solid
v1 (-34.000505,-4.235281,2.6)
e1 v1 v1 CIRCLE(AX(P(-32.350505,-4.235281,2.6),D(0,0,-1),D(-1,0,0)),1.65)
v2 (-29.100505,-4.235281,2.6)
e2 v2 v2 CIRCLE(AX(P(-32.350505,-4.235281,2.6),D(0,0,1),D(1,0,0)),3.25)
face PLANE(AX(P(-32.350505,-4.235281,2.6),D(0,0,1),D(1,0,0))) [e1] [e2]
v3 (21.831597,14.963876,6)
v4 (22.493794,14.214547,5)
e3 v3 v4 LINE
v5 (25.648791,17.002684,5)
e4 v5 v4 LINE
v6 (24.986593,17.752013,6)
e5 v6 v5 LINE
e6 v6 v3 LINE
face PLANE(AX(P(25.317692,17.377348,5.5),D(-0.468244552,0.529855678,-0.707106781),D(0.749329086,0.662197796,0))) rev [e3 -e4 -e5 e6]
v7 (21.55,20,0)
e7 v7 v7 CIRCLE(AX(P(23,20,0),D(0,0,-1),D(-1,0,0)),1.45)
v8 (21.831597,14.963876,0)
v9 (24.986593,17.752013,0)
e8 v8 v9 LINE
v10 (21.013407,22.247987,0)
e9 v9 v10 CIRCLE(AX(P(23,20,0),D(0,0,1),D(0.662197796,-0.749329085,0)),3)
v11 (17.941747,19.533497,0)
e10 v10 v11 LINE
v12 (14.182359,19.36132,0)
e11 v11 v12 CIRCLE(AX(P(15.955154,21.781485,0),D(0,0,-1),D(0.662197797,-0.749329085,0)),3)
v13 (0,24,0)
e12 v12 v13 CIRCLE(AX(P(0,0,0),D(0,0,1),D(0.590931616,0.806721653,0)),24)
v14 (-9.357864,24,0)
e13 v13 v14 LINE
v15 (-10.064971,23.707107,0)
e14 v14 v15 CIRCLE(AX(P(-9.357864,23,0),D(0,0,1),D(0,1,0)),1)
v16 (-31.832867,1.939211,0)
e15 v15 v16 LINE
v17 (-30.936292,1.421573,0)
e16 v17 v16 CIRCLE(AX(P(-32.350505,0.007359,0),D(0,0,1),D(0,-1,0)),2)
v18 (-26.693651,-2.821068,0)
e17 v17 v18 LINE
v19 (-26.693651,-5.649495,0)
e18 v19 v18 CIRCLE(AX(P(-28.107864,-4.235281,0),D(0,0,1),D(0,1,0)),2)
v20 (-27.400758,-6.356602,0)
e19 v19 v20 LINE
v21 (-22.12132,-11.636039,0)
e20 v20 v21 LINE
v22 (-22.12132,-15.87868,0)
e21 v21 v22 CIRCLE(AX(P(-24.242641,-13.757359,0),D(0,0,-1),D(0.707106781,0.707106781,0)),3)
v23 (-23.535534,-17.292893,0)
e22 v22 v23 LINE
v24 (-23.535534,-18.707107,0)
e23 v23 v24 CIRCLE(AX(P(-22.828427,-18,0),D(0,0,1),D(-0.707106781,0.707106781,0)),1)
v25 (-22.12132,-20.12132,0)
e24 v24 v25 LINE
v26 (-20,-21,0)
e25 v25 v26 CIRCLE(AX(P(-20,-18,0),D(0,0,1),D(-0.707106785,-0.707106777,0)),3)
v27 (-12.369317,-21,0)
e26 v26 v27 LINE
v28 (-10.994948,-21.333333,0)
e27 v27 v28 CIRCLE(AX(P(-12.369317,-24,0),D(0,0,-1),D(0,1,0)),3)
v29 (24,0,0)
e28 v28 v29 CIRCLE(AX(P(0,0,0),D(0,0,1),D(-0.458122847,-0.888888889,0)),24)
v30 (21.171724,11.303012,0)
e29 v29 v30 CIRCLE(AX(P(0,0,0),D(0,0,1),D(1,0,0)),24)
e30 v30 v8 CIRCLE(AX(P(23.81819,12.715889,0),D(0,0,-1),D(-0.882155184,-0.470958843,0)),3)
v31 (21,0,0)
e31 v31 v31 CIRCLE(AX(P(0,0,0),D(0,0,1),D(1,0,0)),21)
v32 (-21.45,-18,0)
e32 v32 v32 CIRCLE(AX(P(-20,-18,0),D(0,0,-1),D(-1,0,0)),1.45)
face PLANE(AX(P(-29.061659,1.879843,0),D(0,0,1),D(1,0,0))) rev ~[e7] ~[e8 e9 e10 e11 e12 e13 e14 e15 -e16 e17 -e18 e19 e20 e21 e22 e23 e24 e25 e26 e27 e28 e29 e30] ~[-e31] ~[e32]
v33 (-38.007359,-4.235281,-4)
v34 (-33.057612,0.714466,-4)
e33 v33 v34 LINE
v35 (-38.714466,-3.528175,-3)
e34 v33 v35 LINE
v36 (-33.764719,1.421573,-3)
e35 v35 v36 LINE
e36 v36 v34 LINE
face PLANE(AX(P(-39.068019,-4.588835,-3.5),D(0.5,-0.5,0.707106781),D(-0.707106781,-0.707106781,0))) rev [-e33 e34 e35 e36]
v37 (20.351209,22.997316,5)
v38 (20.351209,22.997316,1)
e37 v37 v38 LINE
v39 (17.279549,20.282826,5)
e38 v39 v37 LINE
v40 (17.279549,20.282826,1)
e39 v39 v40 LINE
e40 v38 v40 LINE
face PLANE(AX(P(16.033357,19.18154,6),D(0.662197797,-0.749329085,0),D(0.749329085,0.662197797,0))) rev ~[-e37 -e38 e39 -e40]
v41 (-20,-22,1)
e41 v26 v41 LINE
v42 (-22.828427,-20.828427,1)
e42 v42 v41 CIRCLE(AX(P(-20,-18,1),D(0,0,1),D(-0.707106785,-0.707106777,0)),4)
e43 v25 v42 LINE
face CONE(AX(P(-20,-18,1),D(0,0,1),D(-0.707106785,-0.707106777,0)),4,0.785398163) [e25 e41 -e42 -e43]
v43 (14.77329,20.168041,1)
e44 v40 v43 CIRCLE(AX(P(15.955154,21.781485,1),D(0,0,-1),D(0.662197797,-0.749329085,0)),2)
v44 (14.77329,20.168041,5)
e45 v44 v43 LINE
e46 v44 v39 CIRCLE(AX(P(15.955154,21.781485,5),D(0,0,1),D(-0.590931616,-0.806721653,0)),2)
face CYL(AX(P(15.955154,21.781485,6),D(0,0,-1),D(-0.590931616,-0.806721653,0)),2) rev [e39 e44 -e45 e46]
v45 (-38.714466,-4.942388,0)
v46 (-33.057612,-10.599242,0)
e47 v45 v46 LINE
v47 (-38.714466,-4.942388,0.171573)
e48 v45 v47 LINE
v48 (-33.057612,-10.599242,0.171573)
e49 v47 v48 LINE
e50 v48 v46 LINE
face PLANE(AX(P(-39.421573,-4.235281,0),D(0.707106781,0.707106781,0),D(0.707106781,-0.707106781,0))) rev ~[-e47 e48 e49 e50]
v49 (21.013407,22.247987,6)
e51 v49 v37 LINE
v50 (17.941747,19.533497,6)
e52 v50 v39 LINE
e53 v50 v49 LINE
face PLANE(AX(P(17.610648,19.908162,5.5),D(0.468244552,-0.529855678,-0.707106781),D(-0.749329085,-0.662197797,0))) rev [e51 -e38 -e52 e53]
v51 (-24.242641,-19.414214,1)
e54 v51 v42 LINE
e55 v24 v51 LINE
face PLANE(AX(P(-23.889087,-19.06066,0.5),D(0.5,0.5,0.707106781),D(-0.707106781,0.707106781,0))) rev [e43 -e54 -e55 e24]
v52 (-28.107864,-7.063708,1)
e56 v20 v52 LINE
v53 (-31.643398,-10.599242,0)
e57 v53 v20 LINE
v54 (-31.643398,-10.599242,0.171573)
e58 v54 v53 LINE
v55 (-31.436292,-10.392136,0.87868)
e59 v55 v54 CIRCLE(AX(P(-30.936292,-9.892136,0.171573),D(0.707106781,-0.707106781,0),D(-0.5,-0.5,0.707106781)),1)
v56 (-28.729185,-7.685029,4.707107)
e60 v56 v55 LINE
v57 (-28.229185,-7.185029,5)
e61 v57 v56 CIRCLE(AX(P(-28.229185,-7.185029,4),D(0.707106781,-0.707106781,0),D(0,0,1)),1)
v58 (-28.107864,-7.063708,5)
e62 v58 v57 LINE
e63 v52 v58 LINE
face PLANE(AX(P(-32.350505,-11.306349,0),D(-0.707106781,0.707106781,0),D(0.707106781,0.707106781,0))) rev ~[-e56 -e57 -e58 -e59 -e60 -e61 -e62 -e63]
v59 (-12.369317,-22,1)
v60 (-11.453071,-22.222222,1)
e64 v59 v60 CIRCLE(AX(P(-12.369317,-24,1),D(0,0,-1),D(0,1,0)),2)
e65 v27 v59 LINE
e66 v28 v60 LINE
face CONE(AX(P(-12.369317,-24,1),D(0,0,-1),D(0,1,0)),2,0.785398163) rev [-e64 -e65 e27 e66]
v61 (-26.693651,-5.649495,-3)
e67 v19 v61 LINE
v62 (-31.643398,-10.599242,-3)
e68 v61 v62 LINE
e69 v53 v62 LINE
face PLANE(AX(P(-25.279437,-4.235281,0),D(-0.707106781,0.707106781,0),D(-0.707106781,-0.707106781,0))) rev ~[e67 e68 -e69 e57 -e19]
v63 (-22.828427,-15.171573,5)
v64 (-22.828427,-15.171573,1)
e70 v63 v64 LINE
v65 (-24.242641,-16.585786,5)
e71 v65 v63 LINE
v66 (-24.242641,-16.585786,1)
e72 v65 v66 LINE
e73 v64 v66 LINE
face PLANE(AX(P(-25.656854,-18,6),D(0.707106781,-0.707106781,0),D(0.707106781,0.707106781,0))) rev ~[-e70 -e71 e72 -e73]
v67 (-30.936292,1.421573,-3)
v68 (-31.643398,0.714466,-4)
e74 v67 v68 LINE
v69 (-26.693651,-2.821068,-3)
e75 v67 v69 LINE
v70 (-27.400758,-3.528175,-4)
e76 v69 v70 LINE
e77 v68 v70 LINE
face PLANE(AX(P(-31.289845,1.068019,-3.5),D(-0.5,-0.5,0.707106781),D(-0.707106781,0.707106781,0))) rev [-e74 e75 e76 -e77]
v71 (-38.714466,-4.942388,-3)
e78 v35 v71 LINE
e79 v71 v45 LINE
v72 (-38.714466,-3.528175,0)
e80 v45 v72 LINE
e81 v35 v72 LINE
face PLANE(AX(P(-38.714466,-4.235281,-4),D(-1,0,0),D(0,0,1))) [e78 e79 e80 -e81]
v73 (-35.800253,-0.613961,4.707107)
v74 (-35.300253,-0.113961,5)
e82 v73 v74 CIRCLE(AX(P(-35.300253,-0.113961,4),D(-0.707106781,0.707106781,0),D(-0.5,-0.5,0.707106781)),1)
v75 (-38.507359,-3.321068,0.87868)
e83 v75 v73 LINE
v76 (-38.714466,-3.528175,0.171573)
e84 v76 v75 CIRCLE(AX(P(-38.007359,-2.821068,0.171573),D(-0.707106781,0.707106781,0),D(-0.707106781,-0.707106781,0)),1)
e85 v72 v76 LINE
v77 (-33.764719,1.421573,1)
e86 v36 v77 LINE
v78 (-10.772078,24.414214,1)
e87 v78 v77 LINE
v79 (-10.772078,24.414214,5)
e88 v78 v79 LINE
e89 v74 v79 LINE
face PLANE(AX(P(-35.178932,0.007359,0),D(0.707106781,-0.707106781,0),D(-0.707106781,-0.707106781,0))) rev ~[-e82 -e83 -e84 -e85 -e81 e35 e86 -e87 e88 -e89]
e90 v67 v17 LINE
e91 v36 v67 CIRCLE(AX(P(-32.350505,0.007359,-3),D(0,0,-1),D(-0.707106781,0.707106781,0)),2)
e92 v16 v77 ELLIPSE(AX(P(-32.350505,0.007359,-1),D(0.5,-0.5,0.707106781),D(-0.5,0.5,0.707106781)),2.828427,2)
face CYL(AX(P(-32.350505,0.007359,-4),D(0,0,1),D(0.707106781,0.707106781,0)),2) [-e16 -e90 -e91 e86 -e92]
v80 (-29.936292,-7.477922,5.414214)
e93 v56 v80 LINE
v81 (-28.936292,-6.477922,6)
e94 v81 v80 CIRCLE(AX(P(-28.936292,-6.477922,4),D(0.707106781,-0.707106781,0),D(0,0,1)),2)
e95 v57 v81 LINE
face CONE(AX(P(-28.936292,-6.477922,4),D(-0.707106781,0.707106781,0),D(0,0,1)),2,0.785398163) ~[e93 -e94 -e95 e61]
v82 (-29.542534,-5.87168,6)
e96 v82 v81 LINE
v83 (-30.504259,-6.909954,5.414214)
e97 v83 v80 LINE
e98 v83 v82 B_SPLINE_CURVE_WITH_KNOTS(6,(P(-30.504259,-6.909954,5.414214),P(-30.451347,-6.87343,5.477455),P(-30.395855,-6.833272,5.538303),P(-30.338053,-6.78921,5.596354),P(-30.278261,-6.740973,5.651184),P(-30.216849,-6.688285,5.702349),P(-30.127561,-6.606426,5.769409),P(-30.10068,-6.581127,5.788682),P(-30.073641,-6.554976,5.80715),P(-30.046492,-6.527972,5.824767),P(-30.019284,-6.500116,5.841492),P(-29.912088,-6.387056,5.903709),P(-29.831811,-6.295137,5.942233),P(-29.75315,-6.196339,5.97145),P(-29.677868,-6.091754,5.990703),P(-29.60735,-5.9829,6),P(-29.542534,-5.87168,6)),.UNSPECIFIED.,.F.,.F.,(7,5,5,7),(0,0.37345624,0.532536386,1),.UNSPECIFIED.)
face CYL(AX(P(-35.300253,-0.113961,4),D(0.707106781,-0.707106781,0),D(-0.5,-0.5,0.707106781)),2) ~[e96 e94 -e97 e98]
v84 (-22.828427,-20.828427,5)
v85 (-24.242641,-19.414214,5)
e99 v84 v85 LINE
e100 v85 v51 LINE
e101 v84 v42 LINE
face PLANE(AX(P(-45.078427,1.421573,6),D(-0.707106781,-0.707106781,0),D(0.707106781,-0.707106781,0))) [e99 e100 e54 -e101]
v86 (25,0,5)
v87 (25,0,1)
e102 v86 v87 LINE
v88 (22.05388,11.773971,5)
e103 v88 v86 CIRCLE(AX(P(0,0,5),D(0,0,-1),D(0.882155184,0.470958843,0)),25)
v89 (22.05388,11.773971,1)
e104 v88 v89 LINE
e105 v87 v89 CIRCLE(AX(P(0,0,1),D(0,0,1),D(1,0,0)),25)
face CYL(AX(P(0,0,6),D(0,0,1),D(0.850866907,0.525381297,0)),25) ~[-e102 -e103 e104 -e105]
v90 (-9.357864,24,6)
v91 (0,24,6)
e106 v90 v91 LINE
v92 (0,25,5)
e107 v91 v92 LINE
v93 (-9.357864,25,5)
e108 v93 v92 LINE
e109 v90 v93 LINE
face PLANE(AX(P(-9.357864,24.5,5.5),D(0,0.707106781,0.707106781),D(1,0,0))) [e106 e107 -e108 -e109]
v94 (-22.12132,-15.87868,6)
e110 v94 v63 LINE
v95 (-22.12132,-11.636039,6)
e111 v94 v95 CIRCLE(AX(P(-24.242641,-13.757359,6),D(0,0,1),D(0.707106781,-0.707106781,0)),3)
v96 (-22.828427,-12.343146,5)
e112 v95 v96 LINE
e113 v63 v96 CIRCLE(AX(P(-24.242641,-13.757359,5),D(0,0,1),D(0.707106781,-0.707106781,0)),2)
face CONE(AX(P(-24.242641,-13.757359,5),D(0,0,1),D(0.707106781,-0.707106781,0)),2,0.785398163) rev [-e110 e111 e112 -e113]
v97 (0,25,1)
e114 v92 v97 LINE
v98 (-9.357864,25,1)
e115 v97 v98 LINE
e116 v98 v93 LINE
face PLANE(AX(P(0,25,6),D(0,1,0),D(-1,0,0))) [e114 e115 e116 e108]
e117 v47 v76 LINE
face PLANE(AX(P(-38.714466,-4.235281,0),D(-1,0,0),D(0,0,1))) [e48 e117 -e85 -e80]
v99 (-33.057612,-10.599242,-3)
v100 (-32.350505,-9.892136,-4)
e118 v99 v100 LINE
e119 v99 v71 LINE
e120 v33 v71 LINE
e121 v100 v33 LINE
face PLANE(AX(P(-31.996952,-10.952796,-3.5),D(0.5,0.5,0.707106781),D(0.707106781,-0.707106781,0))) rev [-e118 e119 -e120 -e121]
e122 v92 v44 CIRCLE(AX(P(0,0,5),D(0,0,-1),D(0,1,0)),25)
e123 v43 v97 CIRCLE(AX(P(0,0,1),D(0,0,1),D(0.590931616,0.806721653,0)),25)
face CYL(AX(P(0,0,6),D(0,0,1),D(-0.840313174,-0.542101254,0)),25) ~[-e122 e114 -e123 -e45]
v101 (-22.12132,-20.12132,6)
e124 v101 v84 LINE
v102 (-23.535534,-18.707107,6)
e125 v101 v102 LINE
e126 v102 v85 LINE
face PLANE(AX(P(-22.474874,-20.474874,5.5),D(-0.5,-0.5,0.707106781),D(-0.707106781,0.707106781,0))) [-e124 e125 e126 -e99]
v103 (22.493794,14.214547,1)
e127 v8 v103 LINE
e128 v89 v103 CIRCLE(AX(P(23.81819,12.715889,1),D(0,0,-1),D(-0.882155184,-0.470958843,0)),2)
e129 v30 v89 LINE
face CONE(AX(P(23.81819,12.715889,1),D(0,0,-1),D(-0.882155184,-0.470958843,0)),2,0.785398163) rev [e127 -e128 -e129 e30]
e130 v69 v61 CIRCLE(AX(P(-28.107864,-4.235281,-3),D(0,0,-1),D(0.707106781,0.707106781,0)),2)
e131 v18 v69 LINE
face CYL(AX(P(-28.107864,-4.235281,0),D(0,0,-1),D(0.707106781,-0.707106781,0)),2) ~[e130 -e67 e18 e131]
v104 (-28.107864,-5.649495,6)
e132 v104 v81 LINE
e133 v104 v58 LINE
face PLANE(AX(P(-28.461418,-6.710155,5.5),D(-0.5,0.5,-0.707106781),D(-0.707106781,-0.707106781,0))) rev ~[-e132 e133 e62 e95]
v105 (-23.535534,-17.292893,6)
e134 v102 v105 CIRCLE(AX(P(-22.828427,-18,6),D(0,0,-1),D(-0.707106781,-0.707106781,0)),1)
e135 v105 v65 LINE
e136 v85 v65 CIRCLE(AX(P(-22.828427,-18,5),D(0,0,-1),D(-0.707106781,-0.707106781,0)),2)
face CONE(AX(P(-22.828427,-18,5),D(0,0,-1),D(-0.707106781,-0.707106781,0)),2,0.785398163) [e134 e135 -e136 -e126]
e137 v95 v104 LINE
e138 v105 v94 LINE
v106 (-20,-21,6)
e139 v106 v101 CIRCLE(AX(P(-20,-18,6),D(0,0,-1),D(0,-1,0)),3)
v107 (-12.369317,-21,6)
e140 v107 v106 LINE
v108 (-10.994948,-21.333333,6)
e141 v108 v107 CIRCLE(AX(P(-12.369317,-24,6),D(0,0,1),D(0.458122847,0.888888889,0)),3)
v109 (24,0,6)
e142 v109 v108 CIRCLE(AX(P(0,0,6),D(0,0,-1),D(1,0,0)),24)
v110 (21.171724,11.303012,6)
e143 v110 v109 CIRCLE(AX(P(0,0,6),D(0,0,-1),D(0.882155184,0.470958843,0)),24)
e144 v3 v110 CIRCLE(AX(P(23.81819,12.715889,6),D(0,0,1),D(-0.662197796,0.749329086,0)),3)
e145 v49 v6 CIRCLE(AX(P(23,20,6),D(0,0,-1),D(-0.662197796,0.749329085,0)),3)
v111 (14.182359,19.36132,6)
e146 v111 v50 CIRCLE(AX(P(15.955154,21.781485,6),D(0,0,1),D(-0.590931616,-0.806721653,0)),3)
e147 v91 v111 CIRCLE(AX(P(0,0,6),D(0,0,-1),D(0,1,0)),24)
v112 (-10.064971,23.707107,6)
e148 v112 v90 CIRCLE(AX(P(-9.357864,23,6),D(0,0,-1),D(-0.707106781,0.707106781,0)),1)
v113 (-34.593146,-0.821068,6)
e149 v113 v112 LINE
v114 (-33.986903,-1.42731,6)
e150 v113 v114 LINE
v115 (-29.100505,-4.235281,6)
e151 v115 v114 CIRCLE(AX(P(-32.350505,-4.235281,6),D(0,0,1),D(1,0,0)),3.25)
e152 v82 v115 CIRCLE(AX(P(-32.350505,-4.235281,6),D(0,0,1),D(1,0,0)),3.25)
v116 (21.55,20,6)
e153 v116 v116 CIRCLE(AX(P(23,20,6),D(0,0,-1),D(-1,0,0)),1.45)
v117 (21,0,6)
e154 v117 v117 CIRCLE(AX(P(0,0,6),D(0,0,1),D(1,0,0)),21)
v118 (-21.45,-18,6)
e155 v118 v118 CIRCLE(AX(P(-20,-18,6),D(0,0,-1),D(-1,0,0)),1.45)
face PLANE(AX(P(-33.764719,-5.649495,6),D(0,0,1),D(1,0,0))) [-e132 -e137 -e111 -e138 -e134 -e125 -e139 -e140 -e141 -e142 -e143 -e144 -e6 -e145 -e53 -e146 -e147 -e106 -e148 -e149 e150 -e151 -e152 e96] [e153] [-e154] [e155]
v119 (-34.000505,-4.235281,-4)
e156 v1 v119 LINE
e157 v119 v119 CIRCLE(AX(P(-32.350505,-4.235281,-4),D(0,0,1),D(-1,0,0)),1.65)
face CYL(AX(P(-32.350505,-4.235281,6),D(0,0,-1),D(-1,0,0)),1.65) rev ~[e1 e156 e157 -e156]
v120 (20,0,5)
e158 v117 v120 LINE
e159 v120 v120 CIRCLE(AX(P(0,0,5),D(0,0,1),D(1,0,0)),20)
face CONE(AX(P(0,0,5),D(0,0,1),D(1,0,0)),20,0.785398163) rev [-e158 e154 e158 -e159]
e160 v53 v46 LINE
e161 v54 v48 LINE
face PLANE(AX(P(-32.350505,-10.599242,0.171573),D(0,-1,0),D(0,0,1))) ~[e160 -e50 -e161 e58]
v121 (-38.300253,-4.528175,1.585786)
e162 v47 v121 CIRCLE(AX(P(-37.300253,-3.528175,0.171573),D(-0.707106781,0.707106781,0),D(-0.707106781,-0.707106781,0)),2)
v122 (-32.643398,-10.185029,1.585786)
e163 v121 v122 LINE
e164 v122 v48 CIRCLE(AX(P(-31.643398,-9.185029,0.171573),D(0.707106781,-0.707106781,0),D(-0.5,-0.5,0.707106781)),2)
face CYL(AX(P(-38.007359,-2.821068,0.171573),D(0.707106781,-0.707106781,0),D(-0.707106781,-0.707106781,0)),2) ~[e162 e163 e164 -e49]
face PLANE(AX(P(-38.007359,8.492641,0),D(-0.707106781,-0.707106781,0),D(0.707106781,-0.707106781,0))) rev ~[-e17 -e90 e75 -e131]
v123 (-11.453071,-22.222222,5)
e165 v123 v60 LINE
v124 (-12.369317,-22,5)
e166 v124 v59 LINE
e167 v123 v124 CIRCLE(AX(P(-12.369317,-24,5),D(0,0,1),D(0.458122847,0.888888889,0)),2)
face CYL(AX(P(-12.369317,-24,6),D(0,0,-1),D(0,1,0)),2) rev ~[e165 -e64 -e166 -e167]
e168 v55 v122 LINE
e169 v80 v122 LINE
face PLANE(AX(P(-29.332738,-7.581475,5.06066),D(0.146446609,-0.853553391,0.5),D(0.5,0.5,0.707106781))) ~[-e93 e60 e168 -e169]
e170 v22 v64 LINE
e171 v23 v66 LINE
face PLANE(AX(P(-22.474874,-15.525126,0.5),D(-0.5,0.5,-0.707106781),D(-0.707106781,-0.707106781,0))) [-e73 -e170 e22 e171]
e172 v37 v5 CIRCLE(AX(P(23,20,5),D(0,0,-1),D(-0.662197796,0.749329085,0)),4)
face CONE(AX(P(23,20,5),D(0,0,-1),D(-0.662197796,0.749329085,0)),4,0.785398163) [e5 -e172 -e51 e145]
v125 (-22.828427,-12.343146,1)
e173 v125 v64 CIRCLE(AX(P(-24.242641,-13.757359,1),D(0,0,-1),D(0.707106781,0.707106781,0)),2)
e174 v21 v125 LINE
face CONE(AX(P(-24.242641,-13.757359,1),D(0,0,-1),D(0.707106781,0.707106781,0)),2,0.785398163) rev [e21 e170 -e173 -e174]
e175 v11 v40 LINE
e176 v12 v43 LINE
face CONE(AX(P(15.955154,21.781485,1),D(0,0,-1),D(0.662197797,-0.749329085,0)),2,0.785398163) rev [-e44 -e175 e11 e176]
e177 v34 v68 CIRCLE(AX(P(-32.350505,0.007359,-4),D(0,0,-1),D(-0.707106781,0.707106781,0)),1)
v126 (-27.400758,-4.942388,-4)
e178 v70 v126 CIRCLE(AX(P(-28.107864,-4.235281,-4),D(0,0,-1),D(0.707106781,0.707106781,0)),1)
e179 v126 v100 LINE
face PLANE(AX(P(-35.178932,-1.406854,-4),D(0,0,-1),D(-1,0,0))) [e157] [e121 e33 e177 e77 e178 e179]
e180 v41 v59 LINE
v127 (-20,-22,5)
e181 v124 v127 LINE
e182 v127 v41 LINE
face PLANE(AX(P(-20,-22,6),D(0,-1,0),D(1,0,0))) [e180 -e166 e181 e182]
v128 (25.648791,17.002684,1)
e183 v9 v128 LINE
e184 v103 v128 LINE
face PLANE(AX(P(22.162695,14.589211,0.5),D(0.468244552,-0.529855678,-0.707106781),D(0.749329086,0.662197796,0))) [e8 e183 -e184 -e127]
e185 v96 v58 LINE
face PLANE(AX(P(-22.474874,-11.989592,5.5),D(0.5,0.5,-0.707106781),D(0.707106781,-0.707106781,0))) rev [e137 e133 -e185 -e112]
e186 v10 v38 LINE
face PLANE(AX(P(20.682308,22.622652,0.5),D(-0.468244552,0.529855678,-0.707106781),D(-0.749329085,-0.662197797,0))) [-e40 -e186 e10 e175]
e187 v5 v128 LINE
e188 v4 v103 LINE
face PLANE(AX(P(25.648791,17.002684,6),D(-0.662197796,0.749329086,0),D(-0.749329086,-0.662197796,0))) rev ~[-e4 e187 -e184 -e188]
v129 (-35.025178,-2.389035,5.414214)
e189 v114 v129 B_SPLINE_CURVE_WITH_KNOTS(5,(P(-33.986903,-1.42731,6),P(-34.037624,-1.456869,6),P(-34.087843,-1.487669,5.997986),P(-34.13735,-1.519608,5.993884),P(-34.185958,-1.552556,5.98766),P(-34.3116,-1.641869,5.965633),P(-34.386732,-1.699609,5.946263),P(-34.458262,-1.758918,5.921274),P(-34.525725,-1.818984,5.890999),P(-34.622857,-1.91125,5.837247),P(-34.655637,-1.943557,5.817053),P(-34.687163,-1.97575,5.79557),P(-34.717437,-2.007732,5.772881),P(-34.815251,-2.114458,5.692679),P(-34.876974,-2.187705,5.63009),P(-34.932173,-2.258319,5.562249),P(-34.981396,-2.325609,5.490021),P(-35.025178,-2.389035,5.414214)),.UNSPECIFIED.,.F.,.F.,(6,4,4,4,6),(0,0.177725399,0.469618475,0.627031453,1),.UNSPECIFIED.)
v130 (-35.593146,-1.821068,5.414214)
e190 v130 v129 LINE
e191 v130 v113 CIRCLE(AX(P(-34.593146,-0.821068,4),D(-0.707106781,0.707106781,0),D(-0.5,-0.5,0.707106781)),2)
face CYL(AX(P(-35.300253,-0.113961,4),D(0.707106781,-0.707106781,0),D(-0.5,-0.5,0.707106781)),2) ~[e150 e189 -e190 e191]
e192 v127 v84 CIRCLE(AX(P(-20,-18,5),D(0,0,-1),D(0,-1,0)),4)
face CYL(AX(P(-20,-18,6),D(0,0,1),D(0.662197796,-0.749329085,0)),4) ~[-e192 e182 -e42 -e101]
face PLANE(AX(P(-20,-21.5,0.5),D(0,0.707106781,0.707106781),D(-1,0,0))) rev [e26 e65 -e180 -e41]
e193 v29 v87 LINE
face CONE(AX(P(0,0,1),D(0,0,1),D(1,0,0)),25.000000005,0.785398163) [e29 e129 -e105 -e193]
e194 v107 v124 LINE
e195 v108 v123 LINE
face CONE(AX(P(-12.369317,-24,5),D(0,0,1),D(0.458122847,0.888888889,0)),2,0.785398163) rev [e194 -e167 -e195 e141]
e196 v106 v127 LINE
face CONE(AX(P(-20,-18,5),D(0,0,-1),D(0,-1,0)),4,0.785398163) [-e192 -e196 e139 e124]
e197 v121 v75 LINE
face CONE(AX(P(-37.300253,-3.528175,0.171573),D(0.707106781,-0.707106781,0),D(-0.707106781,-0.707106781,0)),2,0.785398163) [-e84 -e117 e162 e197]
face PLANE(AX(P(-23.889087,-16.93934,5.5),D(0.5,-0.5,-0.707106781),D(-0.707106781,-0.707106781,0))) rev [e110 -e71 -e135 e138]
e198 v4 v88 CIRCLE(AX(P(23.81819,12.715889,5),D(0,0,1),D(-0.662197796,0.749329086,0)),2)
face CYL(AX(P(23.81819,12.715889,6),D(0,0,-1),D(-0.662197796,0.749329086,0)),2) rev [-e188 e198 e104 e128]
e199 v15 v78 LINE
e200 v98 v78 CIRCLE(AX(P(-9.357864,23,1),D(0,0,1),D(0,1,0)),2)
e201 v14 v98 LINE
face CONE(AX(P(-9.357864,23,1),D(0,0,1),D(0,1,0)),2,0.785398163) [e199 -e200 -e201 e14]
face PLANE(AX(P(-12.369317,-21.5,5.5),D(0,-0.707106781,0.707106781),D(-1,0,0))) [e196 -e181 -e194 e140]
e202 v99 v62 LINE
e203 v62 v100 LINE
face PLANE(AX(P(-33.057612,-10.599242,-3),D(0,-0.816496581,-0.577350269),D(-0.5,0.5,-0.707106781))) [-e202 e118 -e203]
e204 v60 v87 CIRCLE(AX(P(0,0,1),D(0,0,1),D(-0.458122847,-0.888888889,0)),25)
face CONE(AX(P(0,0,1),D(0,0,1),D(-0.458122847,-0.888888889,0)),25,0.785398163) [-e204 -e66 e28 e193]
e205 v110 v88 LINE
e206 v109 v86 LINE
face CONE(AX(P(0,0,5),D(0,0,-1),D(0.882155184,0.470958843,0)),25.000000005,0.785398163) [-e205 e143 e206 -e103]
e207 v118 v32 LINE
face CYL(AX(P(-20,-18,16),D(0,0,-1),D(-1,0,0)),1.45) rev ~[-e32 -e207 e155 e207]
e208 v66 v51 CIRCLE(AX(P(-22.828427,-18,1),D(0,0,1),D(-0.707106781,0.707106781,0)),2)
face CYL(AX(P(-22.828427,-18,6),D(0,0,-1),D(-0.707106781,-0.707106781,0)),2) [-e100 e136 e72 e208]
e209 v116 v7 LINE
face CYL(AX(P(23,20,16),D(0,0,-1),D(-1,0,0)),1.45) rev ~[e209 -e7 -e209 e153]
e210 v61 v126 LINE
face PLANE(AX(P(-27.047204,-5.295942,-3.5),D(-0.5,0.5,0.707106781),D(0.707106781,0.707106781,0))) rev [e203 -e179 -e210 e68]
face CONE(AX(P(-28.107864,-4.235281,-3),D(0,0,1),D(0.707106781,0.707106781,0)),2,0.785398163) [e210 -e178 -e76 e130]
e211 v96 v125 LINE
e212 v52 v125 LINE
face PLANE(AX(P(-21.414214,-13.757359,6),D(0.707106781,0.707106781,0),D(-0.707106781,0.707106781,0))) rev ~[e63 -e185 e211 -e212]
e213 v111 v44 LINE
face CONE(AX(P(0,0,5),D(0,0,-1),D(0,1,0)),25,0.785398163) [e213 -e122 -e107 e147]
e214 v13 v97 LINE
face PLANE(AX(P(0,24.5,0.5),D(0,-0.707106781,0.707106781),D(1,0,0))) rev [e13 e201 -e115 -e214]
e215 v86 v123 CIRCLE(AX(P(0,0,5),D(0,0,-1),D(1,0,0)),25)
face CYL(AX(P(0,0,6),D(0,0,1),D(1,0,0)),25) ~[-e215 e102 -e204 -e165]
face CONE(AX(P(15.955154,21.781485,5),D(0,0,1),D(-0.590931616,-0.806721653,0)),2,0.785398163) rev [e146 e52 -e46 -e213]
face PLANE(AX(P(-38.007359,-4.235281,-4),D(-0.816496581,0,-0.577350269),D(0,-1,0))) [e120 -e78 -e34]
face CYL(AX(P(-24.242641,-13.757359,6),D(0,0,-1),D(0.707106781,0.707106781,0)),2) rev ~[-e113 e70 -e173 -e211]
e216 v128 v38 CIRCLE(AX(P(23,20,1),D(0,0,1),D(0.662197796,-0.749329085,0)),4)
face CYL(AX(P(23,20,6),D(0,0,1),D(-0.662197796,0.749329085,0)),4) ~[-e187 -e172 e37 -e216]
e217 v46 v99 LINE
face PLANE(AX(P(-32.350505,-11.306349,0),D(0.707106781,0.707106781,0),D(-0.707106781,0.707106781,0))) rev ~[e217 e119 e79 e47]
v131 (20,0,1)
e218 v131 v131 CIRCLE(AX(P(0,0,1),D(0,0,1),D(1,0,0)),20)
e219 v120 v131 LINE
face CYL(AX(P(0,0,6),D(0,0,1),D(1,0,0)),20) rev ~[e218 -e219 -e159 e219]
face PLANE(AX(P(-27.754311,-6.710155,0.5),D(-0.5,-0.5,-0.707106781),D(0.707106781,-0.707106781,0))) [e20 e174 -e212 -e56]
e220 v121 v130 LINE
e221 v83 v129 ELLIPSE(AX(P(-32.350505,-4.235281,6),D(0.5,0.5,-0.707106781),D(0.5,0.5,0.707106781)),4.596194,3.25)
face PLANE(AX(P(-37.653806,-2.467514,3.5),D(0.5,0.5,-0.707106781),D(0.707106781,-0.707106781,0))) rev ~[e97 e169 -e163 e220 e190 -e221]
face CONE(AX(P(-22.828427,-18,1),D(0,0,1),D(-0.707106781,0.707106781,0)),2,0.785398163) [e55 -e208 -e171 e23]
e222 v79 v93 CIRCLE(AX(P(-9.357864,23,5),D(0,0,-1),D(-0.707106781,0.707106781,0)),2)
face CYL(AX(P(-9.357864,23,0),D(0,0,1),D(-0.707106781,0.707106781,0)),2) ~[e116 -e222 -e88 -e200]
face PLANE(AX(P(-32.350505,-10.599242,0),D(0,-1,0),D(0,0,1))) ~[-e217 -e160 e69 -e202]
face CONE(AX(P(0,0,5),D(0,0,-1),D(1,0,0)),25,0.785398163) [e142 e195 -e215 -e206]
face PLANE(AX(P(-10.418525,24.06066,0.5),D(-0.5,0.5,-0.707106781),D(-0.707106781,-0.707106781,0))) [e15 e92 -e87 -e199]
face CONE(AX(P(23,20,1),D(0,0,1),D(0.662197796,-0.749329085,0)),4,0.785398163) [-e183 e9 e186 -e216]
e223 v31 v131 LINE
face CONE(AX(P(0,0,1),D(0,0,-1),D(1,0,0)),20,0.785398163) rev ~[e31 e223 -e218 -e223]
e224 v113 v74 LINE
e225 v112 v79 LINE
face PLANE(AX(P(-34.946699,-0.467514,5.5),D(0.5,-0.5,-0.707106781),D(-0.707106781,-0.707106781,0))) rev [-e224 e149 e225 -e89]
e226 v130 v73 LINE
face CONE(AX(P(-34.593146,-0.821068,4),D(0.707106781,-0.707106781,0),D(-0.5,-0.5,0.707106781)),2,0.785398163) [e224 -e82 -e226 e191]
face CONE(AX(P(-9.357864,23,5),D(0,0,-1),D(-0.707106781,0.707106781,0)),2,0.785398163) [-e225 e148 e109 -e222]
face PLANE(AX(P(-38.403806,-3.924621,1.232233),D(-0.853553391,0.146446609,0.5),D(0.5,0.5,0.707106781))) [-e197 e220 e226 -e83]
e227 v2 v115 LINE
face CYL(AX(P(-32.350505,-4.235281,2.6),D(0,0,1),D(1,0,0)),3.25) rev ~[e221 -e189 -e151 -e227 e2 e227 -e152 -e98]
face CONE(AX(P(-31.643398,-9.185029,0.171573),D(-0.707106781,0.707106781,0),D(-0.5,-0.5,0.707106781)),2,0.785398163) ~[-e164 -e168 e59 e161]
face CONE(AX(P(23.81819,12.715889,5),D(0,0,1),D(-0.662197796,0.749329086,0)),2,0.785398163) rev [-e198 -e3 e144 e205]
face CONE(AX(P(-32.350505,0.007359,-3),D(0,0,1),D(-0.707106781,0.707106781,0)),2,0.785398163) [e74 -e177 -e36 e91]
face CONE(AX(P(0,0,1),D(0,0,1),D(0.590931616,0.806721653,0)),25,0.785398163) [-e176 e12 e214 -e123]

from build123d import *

# Parameters (mm, degrees)
SKETCH_1_W                   = 60
SKETCH_1_H                   = 55
EXTRUDE_1_DEPTH              = 6
HOLE_WIZARD_M4_1_D           = 2.9
HOLE_WIZARD_M4_1_DEPTH       = 10
SKETCH_5_R                   = 20
CUT_EXTRUDE_1_DEPTH          = 7
SKETCH_6_W                   = 60
SKETCH_6_H                   = 55
CUT_EXTRUDE_2_DEPTH          = 7
EXTRUDE_2_DEPTH              = 6
EXTRUDE_3_DEPTH              = 6
EXTRUDE_4_DEPTH              = 4
CUT_EXTRUDE_3_DEPTH          = 11
CUT_EXTRUDE_4_DEPTH          = 6
FILLET_1_R                   = 2
EXTRUDE_5_DEPTH              = 6
CHAMFER_2_SIZE               = 5
FILLET_4_R                   = 2
CHAMFER_3_SIZE               = 1
HOLE_WIZARD_M3_2_D           = 3.3
HOLE_WIZARD_M3_2_DEPTH       = 10
HOLE_WIZARD_M3_2_CBORE_D     = 6.5
HOLE_WIZARD_M3_2_CBORE_DEPTH = 3.4
HOLE_WIZARD_M3_2_TIP         = 0.991420021


with BuildPart() as part:
    # ｽｹｯﾁ1 → ﾎﾞｽ - 押し出し1 (new body)
    with BuildSketch(Plane.XY):
        Rectangle(SKETCH_1_W, SKETCH_1_H)
    extrude(amount=EXTRUDE_1_DEPTH)

    # M4 すきま穴1
    with Locations(Plane.XY.offset(6)):
        with Locations((-20, -18), (23, 20)):
            Hole(HOLE_WIZARD_M4_1_D / 2, depth=HOLE_WIZARD_M4_1_DEPTH)

    # ｽｹｯﾁ5 → ｶｯﾄ - 押し出し1 (cut, through all)
    with BuildSketch(Plane.XY.offset(6)):
        Circle(SKETCH_5_R)
    extrude(amount=-CUT_EXTRUDE_1_DEPTH, mode=Mode.SUBTRACT)

    # ｽｹｯﾁ6 → ｶｯﾄ - 押し出し2 (cut, through all)
    with BuildSketch(Plane.XY.offset(6)):
        Rectangle(SKETCH_6_W, SKETCH_6_H)
        with BuildLine():
            ThreePointArc((-17.351208814, -20.997316342), (-22.997316342, -20.648791186), (-22.648791186, -15.002683658))
            Line((-22.648791186, -15.002683658), (-21.007829355, -13.552531342))
            ThreePointArc((-21.007829355, -13.552531342), (-16.554944912, 18.733227137), (16.03335661, 19.181539975))
            Line((16.03335661, 19.181539975), (20.351208814, 22.997316342))
            ThreePointArc((20.351208814, 22.997316342), (25.997316342, 22.648791186), (25.648791186, 17.002683658))
            Line((25.648791186, 17.002683658), (21.271672672, 13.134532414))
            ThreePointArc((21.271672672, 13.134532414), (24.04986296, 6.826718948), (25, 0))
            ThreePointArc((25, 0), (10.810307191, -22.541900062), (-15.650980674, -19.494789148))
            Line((-15.650980674, -19.494789148), (-17.351208814, -20.997316342))
        make_face(mode=Mode.SUBTRACT)
    extrude(amount=-CUT_EXTRUDE_2_DEPTH, mode=Mode.SUBTRACT)

    # ｽｹｯﾁ7 → ﾎﾞｽ - 押し出し2 (add)
    with BuildSketch(Plane.XY.offset(6)):
        with BuildLine():
            Line((0, 25), (-21.5, 25))
            Line((-21.5, 25), (-21.5, 12.757350822))
            ThreePointArc((-21.5, 12.757350822), (-12.370655388, 21.724798855), (0, 25))
        make_face()
        with BuildLine():
            ThreePointArc((-17.351208814, -20.997316342), (-18.583890076, -21.74094008), (-20, -22))
            Line((-20, -22), (-11.874342087, -22))
            ThreePointArc((-11.874342087, -22), (-13.819546614, -20.833149819), (-15.650980674, -19.494789148))
            Line((-15.650980674, -19.494789148), (-17.351208814, -20.997316342))
        make_face()
        with BuildLine():
            ThreePointArc((-21.007829355, -13.552531342), (-21.25763315, -13.157242601), (-21.5, -12.757350822))
            Line((-21.5, -12.757350822), (-21.5, -13.987472843))
            Line((-21.5, -13.987472843), (-21.007829355, -13.552531342))
        make_face()
    extrude(amount=-EXTRUDE_2_DEPTH)

    # ｽｹｯﾁ8 → ﾎﾞｽ - 押し出し3 (add)
    with BuildSketch(Plane.XY.offset(6)):
        with BuildLine():
            Line((-21.5, 12.757350822), (-21.5, 25))
            Line((-21.5, 25), (-45.078427125, 1.421572875))
            Line((-45.078427125, 1.421572875), (-22.82842714, -20.828427109))
            ThreePointArc((-22.82842714, -20.828427109), (-23.998099778, -17.876719173), (-22.648791186, -15.002683658))
            Line((-22.648791186, -15.002683658), (-21.5, -13.987472843))
            Line((-21.5, -13.987472843), (-21.5, -12.757350822))
            ThreePointArc((-21.5, -12.757350822), (-25, 0), (-21.5, 12.757350822))
        make_face()
    extrude(amount=-EXTRUDE_3_DEPTH)

    # ｽｹｯﾁ9 → ﾎﾞｽ - 押し出し4 (add)
    with BuildSketch(Plane(origin=(0, 0, 0), x_dir=(-1, 0, 0), z_dir=(0, 0, -1))):
        Polygon((25.279437252, -4.235281374), (32.350505063, -11.306349186), (45.078427125, 1.421572875), (38.007359313, 8.492640687), align=None)
    extrude(amount=EXTRUDE_4_DEPTH)

    # ｽｹｯﾁ10 → ｶｯﾄ - 押し出し3 (cut, through all)
    with BuildSketch(Plane(origin=(0, 0, -4), x_dir=(-1, 0, 0), z_dir=(0, 0, -1))):
        Polygon((38.007359313, 8.492640687), (21.5, 25), (10.186291501, 25), (39.421572875, -4.235281374), (45.078427125, 1.421572875), align=None)
    extrude(amount=-CUT_EXTRUDE_3_DEPTH, mode=Mode.SUBTRACT)

    # ｽｹｯﾁ12 → ｶｯﾄ - 押し出し4 (cut)
    with BuildSketch(Plane.XY.offset(6)):
        Polygon((-39.421572875, -4.235281374), (-25.656854249, -18), (-21.414213562, -13.757359313), (-35.178932188, 0.007359313), align=None)
    extrude(amount=-CUT_EXTRUDE_4_DEPTH, mode=Mode.SUBTRACT)

    # ﾌｨﾚｯﾄ1
    fillet_1_edges = [part.edges().sort_by_distance(p)[0] for p in [
        (-25.279437252, -4.235281374, -2),
        (-32.350505063, 2.835786438, -2),
        (-25.656854249, -18, 3),
    ]]
    fillet(fillet_1_edges, radius=FILLET_1_R)

    # ｽｹｯﾁ13 → ﾎﾞｽ - 押し出し5 (add)
    with BuildSketch(Plane.XY):
        Polygon((-32.350505063, -11.306349186), (-28.107864376, -7.063708499), (-35.178932188, 0.007359313), (-39.421572875, -4.235281374), align=None)
    extrude(amount=EXTRUDE_5_DEPTH)

    # 面取り2
    chamfer_2_edges = [part.edges().sort_by_distance(p)[0] for p in [
        (-35.886038969, -7.77081528, 6),
    ]]
    chamfer(chamfer_2_edges, length=CHAMFER_2_SIZE)

    # ﾌｨﾚｯﾄ4
    fillet_4_edges = [part.edges().sort_by_distance(p)[0] for p in [
        (-10.186291501, 25, 3),
        (-21.414213562, -13.757359313, 3),
        (-32.350505063, -4.235281374, 6),
        (-35.886038969, -7.77081528, 1),
        (21.271672672, 13.134532414, 3),
        (16.03335661, 19.181539975, 3),
        (-11.874342087, -22, 3),
    ]]
    fillet(fillet_4_edges, radius=FILLET_4_R)

    # 面取り3
    chamfer_3_edges = [part.edges().sort_by_distance(p)[0] for p in [
        (-21.53073374, -21.695518126, 6),
        (-21.53073374, -21.695518126, 0),
        (-23.535533914, -20.121320336, 0),
        (-29.522077939, -8.477922061, -4),
        (-32.350505063, -11.306349186, -1.914213562),
        (-35.886038969, -7.77081528, -4),
        (-36.593145751, -1.406854249, -4),
        (-28.814971157, -0.699747468, -4),
        (-32.350505063, 2.007359313, -4),
        (-26.107864376, -4.235281374, -4),
        (-23.535533906, -15.878679656, 6),
        (-23.535533906, -15.878679656, 0),
        (-23.535533914, -20.121320336, 6),
        (-24.828427125, -18, 6),
        (-24.828427125, -18, 0),
        (24.071292776, 15.608615296, 6),
        (24.071292776, 15.608615296, 0),
        (17.805324329, -17.549086174, 0),
        (17.805324329, -17.549086174, 6),
        (7.771710455, 23.761323966, 6),
        (7.771710455, 23.761323966, 0),
        (18.815379015, 21.640071403, 6),
        (18.815379015, 21.640071403, 0),
        (-39.421572875, -4.235281374, -1.914213562),
        (-37.653805922, -2.467514421, 3.5),
        (-23.036165235, 12.150126266, 6),
        (-22.268398282, 12.917893219, 0),
        (-35.841448632, -0.655157131, 5.847759065),
        (-39.313922278, -4.127630777, 0.93693974),
        (-25.468145751, -9.703427125, 0),
        (-4.678932188, 25, 0),
        (-16.184658438, -22, 0),
        (-10.123231241, 24.847759065, 0),
        (-28.168524548, -7.124368671, 6),
        (-25.468145751, -9.703427125, 6),
        (-10.123231241, 24.847759065, 6),
        (-30.58273811, -9.538582233, 3.5),
        (-28.77038082, -7.726224943, 5.847759065),
        (-32.242854466, -11.198698589, 0.93693974),
        (21.8499093, 13.07067214, 0),
        (21.8499093, 13.07067214, 6),
        (16.046656493, 19.783578925, 0),
        (16.046656493, 19.783578925, 6),
        (-11.897912356, -22.056349368, 6),
        (-11.897912356, -22.056349368, 0),
        (-22.242640687, -13.757359313, 6),
        (-22.242640687, -13.757359313, 0),
        (-20, 0, 0),
        (-20, 0, 6),
        (25.997316342, 22.648791186, 0),
        (25.997316342, 22.648791186, 6),
        (-16.184658438, -22, 6),
        (-4.678932188, 25, 6),
    ]]
    chamfer(chamfer_3_edges, length=CHAMFER_3_SIZE)

    # M3 六角穴付き頭ねじ用座ぐり穴2
    with Locations(Plane.XY.offset(6)):
        with Locations((-32.350505063, -4.235281374)):
            CounterBoreHole(HOLE_WIZARD_M3_2_D / 2, HOLE_WIZARD_M3_2_CBORE_D / 2, HOLE_WIZARD_M3_2_CBORE_DEPTH, depth=HOLE_WIZARD_M3_2_DEPTH)
            with Locations((0, 0, -(HOLE_WIZARD_M3_2_DEPTH + HOLE_WIZARD_M3_2_TIP / 2))):  # 118° drill point
                Cone(0, HOLE_WIZARD_M3_2_D / 2, HOLE_WIZARD_M3_2_TIP, mode=Mode.SUBTRACT)


solid = part.part
